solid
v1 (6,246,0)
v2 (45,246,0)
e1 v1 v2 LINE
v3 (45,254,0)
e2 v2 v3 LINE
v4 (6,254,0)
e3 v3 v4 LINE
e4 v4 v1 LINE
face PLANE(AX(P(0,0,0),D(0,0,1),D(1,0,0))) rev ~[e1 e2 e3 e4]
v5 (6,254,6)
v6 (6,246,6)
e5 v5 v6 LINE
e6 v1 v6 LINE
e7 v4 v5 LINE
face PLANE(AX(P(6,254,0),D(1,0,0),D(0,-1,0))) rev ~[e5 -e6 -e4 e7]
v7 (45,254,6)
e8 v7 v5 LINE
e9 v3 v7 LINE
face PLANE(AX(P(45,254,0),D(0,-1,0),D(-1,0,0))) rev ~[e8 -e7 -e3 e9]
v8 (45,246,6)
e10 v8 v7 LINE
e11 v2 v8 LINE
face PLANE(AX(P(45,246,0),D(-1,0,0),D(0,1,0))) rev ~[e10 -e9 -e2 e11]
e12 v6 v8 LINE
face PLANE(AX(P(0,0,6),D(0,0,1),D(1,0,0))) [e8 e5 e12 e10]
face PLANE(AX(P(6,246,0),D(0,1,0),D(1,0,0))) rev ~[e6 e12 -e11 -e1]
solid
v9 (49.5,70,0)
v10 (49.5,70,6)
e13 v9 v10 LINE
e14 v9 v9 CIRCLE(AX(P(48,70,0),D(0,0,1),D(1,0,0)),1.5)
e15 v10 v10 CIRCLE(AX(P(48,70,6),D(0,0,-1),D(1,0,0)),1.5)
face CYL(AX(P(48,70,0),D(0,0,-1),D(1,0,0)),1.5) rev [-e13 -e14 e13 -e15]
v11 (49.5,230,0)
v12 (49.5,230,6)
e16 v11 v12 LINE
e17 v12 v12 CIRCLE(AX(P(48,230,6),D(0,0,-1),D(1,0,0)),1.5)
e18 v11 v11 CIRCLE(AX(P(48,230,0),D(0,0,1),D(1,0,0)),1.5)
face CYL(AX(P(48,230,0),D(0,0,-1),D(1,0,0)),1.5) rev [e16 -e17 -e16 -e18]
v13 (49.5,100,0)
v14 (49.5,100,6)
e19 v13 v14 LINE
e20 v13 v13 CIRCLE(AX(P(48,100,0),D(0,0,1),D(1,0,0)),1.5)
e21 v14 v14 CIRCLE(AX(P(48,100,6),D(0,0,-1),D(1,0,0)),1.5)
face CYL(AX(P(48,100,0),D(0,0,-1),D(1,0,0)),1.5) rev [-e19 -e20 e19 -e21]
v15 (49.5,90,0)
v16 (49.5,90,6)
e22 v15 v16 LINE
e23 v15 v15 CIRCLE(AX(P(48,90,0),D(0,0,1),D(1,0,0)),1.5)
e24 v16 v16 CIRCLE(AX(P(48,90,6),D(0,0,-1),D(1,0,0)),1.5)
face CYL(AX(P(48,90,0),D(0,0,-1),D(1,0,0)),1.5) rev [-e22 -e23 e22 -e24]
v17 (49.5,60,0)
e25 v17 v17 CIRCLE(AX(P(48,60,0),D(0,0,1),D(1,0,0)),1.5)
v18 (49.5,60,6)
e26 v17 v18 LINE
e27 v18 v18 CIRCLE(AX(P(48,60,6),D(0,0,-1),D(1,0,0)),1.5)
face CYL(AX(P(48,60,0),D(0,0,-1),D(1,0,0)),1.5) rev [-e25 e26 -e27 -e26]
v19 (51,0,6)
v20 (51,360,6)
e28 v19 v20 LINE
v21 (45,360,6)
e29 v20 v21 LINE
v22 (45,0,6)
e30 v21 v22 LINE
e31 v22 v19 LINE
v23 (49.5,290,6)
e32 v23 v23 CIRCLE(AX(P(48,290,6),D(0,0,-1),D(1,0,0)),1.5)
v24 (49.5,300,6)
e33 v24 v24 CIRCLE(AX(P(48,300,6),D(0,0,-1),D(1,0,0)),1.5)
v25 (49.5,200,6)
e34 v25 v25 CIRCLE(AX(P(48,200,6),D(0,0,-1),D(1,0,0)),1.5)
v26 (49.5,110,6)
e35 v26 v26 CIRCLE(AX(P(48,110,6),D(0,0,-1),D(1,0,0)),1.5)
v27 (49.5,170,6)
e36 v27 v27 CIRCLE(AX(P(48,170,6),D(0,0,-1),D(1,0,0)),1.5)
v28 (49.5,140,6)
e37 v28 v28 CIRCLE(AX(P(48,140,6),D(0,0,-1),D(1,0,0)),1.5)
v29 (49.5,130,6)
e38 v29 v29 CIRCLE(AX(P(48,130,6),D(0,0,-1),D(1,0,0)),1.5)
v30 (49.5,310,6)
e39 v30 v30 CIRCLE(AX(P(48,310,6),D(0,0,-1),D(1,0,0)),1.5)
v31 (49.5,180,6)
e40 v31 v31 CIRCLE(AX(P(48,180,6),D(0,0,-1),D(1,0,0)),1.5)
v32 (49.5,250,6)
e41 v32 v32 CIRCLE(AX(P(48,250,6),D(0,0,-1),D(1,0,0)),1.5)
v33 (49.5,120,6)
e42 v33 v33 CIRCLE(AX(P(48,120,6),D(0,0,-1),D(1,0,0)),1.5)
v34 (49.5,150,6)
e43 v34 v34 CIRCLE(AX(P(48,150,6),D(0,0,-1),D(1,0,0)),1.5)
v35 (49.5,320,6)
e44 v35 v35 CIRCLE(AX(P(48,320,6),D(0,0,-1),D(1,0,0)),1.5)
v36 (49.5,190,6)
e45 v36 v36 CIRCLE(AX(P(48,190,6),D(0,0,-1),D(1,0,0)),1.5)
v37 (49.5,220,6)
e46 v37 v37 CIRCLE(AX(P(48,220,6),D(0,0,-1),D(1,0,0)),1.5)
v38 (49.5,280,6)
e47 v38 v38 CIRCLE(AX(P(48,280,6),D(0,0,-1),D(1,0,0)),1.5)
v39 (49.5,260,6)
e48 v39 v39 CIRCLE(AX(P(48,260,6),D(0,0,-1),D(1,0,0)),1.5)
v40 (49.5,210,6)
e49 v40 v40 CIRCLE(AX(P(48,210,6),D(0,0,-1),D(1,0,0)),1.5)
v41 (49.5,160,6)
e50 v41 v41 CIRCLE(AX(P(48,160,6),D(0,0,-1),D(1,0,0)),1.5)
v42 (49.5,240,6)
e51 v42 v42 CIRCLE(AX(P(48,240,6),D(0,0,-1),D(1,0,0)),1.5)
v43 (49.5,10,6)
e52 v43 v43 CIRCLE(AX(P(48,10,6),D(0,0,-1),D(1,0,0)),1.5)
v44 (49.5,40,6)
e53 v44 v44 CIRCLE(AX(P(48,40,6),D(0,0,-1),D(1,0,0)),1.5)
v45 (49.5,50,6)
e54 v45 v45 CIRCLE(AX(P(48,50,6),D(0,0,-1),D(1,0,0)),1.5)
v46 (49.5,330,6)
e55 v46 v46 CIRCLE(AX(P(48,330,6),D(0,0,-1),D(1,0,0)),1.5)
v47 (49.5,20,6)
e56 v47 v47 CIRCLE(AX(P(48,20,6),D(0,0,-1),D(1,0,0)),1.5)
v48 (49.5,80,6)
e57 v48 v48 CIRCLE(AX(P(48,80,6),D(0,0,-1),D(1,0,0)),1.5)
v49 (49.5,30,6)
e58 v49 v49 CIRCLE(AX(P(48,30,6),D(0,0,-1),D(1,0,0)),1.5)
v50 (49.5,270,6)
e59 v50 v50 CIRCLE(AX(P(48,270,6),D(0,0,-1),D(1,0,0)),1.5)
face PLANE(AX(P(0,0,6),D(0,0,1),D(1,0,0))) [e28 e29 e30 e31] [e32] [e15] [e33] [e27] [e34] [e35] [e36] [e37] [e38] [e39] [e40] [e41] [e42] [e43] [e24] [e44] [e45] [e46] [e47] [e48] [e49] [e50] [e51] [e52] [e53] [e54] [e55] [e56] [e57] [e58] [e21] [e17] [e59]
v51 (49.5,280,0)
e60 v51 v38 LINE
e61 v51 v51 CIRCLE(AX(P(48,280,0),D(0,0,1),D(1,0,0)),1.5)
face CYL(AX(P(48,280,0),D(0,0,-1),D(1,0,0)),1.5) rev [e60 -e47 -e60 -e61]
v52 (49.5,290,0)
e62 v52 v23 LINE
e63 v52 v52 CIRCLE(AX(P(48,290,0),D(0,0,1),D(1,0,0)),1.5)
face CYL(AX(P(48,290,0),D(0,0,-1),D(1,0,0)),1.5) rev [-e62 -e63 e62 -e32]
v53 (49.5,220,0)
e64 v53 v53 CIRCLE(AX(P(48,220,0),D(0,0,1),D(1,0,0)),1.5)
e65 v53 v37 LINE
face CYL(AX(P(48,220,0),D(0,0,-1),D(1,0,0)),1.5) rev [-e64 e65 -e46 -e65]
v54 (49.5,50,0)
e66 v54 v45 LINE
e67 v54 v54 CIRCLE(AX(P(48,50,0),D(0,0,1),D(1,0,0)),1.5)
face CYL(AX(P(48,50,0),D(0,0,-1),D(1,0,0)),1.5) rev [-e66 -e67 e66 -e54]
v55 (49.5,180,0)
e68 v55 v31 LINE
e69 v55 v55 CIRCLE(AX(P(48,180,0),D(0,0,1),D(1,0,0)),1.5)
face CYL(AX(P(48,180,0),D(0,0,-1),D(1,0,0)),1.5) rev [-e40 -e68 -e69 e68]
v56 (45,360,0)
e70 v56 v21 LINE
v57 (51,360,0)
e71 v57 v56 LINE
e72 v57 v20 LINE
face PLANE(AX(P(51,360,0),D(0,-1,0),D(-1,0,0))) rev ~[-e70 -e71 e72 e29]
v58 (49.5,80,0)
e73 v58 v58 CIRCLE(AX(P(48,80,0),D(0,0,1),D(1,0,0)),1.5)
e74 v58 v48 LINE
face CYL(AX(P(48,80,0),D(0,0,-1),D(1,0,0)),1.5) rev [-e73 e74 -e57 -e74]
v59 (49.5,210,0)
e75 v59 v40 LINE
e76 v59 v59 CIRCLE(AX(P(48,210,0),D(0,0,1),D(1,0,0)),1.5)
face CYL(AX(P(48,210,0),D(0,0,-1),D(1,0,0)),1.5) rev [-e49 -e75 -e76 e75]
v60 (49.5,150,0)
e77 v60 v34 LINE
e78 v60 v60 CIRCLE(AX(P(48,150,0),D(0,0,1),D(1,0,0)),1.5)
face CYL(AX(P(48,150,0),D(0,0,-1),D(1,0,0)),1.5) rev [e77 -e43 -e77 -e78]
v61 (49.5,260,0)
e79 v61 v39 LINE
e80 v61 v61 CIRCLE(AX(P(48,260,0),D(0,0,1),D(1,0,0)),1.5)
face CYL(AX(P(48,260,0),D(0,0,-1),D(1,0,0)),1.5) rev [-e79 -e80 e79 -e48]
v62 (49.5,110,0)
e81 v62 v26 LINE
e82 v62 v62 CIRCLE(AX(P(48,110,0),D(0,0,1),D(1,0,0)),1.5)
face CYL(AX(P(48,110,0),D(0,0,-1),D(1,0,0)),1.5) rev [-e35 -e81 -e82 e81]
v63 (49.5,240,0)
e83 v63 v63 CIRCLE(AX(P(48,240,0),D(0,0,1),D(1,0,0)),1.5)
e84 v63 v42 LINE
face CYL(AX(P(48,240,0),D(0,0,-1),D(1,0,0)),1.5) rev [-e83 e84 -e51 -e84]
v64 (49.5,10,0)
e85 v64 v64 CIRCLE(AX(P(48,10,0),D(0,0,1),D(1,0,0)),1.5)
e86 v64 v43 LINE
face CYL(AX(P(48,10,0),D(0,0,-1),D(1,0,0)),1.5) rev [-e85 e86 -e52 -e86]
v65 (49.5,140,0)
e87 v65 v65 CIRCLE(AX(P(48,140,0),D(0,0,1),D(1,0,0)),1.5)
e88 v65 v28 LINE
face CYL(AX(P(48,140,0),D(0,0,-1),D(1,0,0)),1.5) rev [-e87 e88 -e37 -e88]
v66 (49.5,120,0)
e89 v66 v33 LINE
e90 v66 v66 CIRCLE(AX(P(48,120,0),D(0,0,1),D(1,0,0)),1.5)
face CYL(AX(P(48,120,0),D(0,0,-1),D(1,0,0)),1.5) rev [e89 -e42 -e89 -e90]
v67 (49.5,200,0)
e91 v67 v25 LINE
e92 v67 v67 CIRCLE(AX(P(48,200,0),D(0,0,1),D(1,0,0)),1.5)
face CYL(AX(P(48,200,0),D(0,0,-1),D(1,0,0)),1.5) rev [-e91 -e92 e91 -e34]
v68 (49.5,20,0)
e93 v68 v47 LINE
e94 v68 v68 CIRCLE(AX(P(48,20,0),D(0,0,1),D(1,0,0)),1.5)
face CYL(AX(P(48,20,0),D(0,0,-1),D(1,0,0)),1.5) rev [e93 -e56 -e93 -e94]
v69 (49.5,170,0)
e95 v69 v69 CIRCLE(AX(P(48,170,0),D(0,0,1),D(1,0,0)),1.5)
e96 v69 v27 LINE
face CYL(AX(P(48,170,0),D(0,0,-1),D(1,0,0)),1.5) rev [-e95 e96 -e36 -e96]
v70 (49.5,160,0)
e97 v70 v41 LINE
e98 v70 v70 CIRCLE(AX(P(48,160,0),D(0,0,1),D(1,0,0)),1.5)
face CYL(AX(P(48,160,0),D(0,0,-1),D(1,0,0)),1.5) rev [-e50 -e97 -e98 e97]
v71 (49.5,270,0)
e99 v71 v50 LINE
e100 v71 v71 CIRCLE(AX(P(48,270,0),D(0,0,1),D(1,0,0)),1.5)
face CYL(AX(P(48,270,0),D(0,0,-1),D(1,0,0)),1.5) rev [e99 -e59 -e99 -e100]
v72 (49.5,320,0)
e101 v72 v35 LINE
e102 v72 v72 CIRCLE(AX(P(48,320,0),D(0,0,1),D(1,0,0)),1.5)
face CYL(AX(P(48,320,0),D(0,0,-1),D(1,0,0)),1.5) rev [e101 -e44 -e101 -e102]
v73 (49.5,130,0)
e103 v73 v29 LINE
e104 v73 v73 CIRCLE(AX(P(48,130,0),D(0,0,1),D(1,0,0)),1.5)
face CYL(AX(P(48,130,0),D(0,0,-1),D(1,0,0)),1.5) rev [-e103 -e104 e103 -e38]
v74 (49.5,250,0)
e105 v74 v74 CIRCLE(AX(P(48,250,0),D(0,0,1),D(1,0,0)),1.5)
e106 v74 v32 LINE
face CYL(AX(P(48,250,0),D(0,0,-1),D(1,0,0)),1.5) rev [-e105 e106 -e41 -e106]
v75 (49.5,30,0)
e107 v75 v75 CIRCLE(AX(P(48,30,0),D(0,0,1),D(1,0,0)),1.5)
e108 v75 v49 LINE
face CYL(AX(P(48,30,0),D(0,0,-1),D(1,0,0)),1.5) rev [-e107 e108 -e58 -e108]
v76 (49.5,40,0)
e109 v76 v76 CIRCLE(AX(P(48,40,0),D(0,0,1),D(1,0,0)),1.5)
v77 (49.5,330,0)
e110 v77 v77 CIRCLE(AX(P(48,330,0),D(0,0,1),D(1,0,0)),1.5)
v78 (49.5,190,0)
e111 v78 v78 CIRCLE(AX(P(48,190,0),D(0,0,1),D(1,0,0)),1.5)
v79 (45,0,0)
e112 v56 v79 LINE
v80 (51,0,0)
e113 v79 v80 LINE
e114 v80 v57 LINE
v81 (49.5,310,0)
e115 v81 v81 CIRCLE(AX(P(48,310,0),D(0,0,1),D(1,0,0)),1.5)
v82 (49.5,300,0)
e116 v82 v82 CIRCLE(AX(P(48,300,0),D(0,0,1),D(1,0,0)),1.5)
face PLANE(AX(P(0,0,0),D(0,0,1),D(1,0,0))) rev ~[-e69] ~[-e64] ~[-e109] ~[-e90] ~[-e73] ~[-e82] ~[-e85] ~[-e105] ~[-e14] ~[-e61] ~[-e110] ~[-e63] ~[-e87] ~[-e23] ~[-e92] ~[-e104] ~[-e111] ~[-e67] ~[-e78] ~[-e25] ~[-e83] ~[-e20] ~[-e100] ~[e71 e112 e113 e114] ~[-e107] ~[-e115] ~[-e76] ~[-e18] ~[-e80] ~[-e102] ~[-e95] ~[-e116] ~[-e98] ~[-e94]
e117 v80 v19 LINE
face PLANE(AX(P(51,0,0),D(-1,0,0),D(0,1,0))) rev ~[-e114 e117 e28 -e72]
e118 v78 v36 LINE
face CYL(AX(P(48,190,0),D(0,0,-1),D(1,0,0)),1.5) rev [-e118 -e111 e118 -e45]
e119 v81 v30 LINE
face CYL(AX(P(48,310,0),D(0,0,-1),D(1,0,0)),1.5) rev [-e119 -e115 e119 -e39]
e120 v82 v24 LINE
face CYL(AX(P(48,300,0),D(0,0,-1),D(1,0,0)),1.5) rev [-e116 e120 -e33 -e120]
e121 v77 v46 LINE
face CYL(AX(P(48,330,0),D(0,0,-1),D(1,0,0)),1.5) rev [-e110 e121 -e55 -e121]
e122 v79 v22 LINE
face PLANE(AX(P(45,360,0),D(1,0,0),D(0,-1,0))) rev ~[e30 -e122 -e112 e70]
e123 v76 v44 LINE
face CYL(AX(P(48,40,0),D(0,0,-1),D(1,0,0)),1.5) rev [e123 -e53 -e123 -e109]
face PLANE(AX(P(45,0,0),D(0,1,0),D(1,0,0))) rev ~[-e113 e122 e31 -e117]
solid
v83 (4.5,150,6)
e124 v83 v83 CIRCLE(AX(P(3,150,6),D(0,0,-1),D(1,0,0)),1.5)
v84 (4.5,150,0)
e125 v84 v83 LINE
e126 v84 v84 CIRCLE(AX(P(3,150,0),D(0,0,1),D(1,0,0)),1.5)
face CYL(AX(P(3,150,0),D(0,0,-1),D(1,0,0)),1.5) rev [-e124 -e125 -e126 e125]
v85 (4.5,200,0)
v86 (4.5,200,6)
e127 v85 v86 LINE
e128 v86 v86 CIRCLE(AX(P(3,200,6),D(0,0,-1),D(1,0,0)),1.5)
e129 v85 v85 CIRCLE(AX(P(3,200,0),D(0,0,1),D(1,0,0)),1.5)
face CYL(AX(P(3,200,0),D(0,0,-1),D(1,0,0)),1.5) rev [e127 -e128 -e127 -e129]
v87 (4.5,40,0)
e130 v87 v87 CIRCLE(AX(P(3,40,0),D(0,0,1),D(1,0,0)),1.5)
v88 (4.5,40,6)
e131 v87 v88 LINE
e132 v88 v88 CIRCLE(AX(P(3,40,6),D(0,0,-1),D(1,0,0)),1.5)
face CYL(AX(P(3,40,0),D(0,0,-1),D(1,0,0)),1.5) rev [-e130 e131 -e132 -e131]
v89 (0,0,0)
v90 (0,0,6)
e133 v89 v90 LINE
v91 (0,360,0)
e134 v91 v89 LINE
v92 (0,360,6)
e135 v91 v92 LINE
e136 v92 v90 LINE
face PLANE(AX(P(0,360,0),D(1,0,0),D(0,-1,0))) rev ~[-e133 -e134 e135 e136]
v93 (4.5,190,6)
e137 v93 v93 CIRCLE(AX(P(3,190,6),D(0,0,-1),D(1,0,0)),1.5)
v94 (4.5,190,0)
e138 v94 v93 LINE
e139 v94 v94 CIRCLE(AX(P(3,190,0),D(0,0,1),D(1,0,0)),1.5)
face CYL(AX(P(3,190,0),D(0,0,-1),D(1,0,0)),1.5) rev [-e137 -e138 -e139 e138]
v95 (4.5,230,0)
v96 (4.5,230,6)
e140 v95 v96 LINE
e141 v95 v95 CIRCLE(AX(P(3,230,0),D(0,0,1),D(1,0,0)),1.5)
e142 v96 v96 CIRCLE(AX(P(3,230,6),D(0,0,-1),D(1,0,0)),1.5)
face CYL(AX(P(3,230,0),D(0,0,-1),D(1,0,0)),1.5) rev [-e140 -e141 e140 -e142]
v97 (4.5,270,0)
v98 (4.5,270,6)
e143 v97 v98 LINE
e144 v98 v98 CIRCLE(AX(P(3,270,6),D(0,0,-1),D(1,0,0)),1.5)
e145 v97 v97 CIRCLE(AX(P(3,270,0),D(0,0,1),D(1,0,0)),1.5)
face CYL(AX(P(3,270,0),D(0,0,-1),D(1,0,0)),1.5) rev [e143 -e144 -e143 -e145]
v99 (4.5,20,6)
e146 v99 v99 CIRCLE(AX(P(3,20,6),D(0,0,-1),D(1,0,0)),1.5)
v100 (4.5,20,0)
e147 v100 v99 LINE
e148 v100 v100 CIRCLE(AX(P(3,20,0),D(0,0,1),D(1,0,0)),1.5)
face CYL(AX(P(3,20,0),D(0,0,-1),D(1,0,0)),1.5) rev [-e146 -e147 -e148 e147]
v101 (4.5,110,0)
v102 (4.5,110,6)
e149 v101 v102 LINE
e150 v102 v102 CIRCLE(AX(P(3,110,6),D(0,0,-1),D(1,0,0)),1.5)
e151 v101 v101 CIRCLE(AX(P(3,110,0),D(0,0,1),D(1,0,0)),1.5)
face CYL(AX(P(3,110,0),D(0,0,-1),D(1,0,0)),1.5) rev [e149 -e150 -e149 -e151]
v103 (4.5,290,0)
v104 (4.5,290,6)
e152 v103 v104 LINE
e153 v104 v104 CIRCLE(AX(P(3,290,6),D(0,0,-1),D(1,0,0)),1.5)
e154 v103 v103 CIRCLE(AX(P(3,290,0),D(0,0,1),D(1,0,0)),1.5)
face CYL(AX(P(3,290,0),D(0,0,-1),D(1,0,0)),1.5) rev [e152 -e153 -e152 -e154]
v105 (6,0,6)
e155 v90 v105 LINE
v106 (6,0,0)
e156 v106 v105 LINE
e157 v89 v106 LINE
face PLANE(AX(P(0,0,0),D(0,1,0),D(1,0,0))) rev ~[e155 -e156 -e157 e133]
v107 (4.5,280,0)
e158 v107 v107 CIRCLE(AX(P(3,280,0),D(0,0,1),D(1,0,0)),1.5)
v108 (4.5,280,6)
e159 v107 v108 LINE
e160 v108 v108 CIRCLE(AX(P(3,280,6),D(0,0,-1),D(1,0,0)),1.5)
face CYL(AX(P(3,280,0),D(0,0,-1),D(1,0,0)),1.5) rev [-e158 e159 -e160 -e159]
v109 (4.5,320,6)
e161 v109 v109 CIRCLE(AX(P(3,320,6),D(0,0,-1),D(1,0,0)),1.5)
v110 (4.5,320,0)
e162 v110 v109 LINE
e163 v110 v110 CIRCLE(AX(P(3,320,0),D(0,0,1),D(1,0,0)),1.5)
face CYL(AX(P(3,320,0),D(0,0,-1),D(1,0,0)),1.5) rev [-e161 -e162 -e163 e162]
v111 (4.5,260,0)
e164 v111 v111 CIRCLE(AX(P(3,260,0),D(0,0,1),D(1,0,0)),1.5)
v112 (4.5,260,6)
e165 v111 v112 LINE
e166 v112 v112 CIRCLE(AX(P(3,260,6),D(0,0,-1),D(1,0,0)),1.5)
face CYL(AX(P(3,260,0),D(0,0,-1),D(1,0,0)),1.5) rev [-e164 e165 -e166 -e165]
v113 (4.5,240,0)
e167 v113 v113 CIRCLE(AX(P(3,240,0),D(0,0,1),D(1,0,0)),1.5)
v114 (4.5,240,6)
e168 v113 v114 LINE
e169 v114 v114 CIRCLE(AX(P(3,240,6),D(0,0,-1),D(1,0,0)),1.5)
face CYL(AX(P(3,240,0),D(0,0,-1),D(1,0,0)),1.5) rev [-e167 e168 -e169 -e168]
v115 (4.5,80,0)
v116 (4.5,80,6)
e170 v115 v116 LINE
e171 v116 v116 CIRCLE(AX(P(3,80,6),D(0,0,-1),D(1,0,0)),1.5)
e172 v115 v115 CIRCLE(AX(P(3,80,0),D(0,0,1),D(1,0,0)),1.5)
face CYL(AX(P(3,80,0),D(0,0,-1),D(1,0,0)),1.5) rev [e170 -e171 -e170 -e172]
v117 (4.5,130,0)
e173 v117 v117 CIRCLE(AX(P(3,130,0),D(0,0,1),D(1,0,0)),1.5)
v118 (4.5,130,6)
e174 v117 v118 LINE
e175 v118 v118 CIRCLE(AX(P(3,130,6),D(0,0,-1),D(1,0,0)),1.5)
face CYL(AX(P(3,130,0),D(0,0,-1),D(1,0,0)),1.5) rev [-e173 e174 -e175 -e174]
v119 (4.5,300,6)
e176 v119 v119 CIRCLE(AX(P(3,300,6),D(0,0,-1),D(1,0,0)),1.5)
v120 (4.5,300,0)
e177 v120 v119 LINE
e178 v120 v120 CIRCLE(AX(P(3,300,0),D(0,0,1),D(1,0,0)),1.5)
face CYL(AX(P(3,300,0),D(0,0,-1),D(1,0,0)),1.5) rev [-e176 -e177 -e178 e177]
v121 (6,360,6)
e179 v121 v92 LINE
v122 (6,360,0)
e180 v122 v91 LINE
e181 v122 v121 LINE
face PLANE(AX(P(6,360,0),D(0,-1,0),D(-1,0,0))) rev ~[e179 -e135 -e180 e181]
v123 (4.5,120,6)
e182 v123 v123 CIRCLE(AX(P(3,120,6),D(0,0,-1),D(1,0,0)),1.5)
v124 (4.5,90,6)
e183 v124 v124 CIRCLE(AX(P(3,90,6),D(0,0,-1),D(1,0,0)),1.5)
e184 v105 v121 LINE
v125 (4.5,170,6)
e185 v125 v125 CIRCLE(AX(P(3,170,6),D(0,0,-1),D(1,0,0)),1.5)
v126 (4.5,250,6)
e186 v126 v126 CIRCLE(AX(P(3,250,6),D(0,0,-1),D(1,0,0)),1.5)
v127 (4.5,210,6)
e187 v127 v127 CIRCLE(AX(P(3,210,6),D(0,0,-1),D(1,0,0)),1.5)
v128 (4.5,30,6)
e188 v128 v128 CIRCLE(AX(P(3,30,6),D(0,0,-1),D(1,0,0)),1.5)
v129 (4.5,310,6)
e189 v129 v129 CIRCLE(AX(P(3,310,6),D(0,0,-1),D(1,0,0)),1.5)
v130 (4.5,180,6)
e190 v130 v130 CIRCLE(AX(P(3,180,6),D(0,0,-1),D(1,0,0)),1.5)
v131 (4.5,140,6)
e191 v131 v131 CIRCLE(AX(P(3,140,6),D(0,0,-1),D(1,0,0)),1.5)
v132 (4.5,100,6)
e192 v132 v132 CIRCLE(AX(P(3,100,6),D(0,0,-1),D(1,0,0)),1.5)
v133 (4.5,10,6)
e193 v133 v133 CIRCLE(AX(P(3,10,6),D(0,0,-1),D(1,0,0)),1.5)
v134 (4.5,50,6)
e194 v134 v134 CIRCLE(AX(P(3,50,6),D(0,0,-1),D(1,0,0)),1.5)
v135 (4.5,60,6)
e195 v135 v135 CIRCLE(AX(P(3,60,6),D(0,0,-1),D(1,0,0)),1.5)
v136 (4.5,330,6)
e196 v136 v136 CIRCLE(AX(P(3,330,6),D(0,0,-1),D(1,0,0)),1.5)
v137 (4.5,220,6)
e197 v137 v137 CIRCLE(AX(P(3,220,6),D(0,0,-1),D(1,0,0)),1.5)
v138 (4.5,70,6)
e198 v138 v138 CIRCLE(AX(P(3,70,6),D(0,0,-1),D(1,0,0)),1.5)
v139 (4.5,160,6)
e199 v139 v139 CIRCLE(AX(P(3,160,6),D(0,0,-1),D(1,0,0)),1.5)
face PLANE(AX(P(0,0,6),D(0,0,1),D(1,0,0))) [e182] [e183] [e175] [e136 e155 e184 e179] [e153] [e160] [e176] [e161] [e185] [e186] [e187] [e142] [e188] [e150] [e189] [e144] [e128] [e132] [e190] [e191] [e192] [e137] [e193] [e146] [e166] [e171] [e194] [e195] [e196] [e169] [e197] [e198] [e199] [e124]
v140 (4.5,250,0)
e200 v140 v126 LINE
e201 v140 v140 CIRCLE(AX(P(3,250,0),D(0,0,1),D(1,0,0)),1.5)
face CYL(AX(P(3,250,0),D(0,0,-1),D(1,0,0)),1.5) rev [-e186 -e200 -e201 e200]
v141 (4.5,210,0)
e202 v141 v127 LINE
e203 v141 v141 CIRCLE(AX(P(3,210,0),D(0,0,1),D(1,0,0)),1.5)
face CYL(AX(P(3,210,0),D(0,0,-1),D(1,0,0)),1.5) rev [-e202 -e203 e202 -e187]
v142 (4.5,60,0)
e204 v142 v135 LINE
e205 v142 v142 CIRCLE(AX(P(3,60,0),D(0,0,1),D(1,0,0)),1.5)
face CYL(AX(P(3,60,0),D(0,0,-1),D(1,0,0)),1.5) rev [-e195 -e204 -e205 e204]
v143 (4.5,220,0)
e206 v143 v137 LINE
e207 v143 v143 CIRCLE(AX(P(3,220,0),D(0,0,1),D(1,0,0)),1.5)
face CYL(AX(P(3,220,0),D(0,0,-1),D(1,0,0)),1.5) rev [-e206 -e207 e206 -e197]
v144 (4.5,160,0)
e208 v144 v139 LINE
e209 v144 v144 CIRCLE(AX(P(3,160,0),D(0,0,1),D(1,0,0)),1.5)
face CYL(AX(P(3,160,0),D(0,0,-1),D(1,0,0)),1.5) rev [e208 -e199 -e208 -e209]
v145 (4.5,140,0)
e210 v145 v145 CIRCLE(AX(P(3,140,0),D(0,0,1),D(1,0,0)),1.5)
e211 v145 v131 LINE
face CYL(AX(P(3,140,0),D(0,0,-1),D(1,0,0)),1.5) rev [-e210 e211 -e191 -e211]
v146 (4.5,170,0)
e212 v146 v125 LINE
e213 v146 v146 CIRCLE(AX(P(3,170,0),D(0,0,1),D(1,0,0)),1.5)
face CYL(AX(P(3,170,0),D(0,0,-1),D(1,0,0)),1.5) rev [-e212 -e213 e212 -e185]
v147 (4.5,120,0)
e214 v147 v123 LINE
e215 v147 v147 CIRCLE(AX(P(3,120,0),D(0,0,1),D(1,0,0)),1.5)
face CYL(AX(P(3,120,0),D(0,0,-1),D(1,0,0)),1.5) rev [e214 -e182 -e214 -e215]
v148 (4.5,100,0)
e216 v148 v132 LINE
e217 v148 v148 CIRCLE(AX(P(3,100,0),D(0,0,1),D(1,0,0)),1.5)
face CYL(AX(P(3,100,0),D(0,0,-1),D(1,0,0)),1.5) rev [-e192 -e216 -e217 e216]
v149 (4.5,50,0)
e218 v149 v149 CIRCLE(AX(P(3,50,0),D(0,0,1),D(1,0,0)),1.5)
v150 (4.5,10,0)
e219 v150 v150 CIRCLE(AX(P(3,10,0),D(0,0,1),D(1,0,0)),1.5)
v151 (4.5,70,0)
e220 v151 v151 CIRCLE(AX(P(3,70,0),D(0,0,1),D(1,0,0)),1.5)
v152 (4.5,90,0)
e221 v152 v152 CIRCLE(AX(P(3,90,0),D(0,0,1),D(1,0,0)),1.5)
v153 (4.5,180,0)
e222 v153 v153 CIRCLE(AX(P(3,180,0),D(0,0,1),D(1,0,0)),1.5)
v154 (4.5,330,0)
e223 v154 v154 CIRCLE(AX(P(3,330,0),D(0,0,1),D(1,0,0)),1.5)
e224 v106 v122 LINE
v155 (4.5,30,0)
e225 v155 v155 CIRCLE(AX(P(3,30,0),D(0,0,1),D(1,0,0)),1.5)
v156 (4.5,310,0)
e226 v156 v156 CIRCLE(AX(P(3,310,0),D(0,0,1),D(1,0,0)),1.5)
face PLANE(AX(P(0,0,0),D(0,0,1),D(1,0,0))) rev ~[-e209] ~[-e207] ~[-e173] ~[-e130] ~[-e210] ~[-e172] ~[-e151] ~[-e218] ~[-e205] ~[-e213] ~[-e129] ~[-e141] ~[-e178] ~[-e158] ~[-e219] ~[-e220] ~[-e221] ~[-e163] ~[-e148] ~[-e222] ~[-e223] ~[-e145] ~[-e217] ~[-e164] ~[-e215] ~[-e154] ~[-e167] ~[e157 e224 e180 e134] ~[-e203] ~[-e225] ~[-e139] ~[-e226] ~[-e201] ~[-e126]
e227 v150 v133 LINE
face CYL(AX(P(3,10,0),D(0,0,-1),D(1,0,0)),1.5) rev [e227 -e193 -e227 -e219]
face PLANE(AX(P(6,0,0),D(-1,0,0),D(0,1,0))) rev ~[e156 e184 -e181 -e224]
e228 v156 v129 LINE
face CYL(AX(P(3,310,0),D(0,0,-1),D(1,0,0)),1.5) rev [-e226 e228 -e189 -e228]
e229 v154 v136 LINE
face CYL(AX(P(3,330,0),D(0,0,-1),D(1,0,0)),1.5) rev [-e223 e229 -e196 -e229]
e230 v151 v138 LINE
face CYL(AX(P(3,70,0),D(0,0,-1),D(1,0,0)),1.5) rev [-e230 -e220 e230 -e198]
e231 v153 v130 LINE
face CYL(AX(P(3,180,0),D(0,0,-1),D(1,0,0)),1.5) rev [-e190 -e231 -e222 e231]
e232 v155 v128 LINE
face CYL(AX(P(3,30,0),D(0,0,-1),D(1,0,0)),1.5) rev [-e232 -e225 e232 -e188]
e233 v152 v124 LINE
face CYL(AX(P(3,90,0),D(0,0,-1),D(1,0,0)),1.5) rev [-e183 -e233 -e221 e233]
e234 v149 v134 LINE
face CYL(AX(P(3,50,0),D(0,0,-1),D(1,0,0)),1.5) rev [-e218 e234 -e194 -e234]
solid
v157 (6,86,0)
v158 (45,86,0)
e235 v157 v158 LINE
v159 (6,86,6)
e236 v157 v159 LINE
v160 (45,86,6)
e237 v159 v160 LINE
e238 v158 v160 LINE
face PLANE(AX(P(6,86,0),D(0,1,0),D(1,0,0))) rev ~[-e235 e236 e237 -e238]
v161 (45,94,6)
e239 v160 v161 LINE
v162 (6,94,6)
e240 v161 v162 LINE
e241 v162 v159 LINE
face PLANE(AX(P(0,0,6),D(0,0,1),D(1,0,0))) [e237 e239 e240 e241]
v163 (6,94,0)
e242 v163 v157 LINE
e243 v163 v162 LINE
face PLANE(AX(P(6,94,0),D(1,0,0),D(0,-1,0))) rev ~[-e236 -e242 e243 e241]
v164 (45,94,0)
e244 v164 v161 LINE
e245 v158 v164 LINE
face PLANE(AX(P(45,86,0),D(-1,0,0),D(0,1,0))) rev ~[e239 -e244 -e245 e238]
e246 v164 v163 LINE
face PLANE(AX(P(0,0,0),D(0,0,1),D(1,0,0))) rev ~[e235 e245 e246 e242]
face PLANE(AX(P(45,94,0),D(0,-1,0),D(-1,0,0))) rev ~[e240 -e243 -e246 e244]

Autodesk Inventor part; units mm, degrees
ref_plane "YZ Plane" through (0, 0, 0) normal (1, 0, 0) x (0, 1, 0)
ref_plane "XZ Plane" through (0, 0, 0) normal (0, 1, 0) x (-1, 0, 0)
ref_plane "XY Plane" through (0, 0, 0) normal (0, 0, 1) x (1, 0, 0)
sketch "Left_Rod_Profile" plane through (0, 0, 0) normal (0, 0, 1) x (1, 0, 0)
  line L0 (0, 0) -> (6, 0)
  line L1 (6, 0) -> (6, 360)
  line L2 (6, 360) -> (0, 360)
  line L3 (0, 360) -> (0, 0)
  dimension "d0" = 6
  dimension "d1" = 360
extrude "Left_Rod" add sketch "Left_Rod_Profile" along normal blind 6
sketch "Right_Rod_Profile" plane through (0, 0, 0) normal (0, 0, 1) x (1, 0, 0)
  line L0 (45, 0) -> (51, 0)
  line L1 (51, 0) -> (51, 360)
  line L2 (51, 360) -> (45, 360)
  line L3 (45, 360) -> (45, 0)
  point P0 (0, 0)
  dimension "d4" = 45
  dimension "d5" = 6
  dimension "d6" = 360
extrude "Right_Rod" add sketch "Right_Rod_Profile" along normal blind 6 separate body
sketch "Upper_Crossbar_ESTIMATED_Profile" plane through (0, 0, 0) normal (0, 0, 1) x (1, 0, 0)
  line L0 (6, 246) -> (45, 246)
  line L1 (45, 246) -> (45, 254)
  line L2 (45, 254) -> (6, 254)
  line L3 (6, 254) -> (6, 246)
  point P0 (0, 0)
  dimension "d9" = 6
  dimension "d10" = 246
  dimension "d11" = 39
  dimension "d12" = 8
extrude "Upper_Crossbar_ESTIMATED" add sketch "Upper_Crossbar_ESTIMATED_Profile" along normal blind 6 separate body
sketch "Lower_Crossbar_ESTIMATED_Profile" plane through (0, 0, 0) normal (0, 0, 1) x (1, 0, 0)
  line L0 (6, 86) -> (45, 86)
  line L1 (45, 86) -> (45, 94)
  line L2 (45, 94) -> (6, 94)
  line L3 (6, 94) -> (6, 86)
  point P0 (0, 0)
  dimension "d15" = 6
  dimension "d16" = 86
  dimension "d17" = 39
  dimension "d18" = 8
extrude "Lower_Crossbar_ESTIMATED" add sketch "Lower_Crossbar_ESTIMATED_Profile" along normal blind 6 separate body
sketch "M3_Nominal_Seed_Locations" plane through (0, 0, 0) normal (0, 0, 1) x (1, 0, 0)
  circle A0 centre (3, 330) radius 1.5
  circle A1 centre (48, 330) radius 1.5
  point P0 (0, 0)
  dimension "d21" = 3
  dimension "d22" = 330
  dimension "d23" = 3
  dimension "d24" = 48
  dimension "d25" = 330
  dimension "d26" = 3
extrude "M3_Simplified_Through_Seed" cut sketch "M3_Nominal_Seed_Locations" along normal through all bodies 1 2
pattern_linear "M3_33x_Per_Rod_10mm_Pitch" count 33 spacing 10 along (0, -1, 0) of "M3_Simplified_Through_Seed" bodies 1 2
equation "\"d0\" = RodWidth"
equation "\"d1\" = RodLength"
equation "\"d2\" = ASSUMED_RodDepth"
equation "\"d4\" = RodWidth + ClearGap"
equation "\"d5\" = RodWidth"
equation "\"d6\" = RodLength"
equation "\"d7\" = ASSUMED_RodDepth"
equation "\"d9\" = RodWidth"
equation "\"d10\" = -EST_UpperCrossbarFromTop + RodLength - 0.5 * EST_CrossbarHeight"
equation "\"d11\" = ClearGap"
equation "\"d12\" = EST_CrossbarHeight"
equation "\"d13\" = ASSUMED_CrossbarDepth"
equation "\"d15\" = RodWidth"
equation "\"d16\" = -EST_LowerCrossbarFromTop + RodLength - 0.5 * EST_CrossbarHeight"
equation "\"d17\" = ClearGap"
equation "\"d18\" = EST_CrossbarHeight"
equation "\"d19\" = ASSUMED_CrossbarDepth"
equation "\"d21\" = 0.5 * RodWidth"
equation "\"d22\" = RodLength - FirstHoleFromTop"
equation "\"d23\" = HoleNominalDiameter"
equation "\"d24\" = ClearGap + 1.5 * RodWidth"
equation "\"d25\" = RodLength - FirstHoleFromTop"
equation "\"d26\" = HoleNominalDiameter"
equation "\"RodLength\" = 360"
equation "\"RodWidth\" = 6"
equation "\"ClearGap\" = 39"
equation "\"ASSUMED_RodDepth\" = 6"
equation "\"ASSUMED_CrossbarDepth\" = 6"
equation "\"EST_CrossbarHeight\" = 8"
equation "\"FirstHoleFromTop\" = 30"
equation "\"HoleNominalDiameter\" = 3"
equation "\"OverallWidth\" = 2 * RodWidth + ClearGap"
equation "\"RodCentreSpacing\" = RodWidth + ClearGap"
equation "\"EST_UpperCrossbarFromTop\" = 110"
equation "\"EST_LowerCrossbarFromTop\" = 270"
properties part number "Probe_H_Frame"
